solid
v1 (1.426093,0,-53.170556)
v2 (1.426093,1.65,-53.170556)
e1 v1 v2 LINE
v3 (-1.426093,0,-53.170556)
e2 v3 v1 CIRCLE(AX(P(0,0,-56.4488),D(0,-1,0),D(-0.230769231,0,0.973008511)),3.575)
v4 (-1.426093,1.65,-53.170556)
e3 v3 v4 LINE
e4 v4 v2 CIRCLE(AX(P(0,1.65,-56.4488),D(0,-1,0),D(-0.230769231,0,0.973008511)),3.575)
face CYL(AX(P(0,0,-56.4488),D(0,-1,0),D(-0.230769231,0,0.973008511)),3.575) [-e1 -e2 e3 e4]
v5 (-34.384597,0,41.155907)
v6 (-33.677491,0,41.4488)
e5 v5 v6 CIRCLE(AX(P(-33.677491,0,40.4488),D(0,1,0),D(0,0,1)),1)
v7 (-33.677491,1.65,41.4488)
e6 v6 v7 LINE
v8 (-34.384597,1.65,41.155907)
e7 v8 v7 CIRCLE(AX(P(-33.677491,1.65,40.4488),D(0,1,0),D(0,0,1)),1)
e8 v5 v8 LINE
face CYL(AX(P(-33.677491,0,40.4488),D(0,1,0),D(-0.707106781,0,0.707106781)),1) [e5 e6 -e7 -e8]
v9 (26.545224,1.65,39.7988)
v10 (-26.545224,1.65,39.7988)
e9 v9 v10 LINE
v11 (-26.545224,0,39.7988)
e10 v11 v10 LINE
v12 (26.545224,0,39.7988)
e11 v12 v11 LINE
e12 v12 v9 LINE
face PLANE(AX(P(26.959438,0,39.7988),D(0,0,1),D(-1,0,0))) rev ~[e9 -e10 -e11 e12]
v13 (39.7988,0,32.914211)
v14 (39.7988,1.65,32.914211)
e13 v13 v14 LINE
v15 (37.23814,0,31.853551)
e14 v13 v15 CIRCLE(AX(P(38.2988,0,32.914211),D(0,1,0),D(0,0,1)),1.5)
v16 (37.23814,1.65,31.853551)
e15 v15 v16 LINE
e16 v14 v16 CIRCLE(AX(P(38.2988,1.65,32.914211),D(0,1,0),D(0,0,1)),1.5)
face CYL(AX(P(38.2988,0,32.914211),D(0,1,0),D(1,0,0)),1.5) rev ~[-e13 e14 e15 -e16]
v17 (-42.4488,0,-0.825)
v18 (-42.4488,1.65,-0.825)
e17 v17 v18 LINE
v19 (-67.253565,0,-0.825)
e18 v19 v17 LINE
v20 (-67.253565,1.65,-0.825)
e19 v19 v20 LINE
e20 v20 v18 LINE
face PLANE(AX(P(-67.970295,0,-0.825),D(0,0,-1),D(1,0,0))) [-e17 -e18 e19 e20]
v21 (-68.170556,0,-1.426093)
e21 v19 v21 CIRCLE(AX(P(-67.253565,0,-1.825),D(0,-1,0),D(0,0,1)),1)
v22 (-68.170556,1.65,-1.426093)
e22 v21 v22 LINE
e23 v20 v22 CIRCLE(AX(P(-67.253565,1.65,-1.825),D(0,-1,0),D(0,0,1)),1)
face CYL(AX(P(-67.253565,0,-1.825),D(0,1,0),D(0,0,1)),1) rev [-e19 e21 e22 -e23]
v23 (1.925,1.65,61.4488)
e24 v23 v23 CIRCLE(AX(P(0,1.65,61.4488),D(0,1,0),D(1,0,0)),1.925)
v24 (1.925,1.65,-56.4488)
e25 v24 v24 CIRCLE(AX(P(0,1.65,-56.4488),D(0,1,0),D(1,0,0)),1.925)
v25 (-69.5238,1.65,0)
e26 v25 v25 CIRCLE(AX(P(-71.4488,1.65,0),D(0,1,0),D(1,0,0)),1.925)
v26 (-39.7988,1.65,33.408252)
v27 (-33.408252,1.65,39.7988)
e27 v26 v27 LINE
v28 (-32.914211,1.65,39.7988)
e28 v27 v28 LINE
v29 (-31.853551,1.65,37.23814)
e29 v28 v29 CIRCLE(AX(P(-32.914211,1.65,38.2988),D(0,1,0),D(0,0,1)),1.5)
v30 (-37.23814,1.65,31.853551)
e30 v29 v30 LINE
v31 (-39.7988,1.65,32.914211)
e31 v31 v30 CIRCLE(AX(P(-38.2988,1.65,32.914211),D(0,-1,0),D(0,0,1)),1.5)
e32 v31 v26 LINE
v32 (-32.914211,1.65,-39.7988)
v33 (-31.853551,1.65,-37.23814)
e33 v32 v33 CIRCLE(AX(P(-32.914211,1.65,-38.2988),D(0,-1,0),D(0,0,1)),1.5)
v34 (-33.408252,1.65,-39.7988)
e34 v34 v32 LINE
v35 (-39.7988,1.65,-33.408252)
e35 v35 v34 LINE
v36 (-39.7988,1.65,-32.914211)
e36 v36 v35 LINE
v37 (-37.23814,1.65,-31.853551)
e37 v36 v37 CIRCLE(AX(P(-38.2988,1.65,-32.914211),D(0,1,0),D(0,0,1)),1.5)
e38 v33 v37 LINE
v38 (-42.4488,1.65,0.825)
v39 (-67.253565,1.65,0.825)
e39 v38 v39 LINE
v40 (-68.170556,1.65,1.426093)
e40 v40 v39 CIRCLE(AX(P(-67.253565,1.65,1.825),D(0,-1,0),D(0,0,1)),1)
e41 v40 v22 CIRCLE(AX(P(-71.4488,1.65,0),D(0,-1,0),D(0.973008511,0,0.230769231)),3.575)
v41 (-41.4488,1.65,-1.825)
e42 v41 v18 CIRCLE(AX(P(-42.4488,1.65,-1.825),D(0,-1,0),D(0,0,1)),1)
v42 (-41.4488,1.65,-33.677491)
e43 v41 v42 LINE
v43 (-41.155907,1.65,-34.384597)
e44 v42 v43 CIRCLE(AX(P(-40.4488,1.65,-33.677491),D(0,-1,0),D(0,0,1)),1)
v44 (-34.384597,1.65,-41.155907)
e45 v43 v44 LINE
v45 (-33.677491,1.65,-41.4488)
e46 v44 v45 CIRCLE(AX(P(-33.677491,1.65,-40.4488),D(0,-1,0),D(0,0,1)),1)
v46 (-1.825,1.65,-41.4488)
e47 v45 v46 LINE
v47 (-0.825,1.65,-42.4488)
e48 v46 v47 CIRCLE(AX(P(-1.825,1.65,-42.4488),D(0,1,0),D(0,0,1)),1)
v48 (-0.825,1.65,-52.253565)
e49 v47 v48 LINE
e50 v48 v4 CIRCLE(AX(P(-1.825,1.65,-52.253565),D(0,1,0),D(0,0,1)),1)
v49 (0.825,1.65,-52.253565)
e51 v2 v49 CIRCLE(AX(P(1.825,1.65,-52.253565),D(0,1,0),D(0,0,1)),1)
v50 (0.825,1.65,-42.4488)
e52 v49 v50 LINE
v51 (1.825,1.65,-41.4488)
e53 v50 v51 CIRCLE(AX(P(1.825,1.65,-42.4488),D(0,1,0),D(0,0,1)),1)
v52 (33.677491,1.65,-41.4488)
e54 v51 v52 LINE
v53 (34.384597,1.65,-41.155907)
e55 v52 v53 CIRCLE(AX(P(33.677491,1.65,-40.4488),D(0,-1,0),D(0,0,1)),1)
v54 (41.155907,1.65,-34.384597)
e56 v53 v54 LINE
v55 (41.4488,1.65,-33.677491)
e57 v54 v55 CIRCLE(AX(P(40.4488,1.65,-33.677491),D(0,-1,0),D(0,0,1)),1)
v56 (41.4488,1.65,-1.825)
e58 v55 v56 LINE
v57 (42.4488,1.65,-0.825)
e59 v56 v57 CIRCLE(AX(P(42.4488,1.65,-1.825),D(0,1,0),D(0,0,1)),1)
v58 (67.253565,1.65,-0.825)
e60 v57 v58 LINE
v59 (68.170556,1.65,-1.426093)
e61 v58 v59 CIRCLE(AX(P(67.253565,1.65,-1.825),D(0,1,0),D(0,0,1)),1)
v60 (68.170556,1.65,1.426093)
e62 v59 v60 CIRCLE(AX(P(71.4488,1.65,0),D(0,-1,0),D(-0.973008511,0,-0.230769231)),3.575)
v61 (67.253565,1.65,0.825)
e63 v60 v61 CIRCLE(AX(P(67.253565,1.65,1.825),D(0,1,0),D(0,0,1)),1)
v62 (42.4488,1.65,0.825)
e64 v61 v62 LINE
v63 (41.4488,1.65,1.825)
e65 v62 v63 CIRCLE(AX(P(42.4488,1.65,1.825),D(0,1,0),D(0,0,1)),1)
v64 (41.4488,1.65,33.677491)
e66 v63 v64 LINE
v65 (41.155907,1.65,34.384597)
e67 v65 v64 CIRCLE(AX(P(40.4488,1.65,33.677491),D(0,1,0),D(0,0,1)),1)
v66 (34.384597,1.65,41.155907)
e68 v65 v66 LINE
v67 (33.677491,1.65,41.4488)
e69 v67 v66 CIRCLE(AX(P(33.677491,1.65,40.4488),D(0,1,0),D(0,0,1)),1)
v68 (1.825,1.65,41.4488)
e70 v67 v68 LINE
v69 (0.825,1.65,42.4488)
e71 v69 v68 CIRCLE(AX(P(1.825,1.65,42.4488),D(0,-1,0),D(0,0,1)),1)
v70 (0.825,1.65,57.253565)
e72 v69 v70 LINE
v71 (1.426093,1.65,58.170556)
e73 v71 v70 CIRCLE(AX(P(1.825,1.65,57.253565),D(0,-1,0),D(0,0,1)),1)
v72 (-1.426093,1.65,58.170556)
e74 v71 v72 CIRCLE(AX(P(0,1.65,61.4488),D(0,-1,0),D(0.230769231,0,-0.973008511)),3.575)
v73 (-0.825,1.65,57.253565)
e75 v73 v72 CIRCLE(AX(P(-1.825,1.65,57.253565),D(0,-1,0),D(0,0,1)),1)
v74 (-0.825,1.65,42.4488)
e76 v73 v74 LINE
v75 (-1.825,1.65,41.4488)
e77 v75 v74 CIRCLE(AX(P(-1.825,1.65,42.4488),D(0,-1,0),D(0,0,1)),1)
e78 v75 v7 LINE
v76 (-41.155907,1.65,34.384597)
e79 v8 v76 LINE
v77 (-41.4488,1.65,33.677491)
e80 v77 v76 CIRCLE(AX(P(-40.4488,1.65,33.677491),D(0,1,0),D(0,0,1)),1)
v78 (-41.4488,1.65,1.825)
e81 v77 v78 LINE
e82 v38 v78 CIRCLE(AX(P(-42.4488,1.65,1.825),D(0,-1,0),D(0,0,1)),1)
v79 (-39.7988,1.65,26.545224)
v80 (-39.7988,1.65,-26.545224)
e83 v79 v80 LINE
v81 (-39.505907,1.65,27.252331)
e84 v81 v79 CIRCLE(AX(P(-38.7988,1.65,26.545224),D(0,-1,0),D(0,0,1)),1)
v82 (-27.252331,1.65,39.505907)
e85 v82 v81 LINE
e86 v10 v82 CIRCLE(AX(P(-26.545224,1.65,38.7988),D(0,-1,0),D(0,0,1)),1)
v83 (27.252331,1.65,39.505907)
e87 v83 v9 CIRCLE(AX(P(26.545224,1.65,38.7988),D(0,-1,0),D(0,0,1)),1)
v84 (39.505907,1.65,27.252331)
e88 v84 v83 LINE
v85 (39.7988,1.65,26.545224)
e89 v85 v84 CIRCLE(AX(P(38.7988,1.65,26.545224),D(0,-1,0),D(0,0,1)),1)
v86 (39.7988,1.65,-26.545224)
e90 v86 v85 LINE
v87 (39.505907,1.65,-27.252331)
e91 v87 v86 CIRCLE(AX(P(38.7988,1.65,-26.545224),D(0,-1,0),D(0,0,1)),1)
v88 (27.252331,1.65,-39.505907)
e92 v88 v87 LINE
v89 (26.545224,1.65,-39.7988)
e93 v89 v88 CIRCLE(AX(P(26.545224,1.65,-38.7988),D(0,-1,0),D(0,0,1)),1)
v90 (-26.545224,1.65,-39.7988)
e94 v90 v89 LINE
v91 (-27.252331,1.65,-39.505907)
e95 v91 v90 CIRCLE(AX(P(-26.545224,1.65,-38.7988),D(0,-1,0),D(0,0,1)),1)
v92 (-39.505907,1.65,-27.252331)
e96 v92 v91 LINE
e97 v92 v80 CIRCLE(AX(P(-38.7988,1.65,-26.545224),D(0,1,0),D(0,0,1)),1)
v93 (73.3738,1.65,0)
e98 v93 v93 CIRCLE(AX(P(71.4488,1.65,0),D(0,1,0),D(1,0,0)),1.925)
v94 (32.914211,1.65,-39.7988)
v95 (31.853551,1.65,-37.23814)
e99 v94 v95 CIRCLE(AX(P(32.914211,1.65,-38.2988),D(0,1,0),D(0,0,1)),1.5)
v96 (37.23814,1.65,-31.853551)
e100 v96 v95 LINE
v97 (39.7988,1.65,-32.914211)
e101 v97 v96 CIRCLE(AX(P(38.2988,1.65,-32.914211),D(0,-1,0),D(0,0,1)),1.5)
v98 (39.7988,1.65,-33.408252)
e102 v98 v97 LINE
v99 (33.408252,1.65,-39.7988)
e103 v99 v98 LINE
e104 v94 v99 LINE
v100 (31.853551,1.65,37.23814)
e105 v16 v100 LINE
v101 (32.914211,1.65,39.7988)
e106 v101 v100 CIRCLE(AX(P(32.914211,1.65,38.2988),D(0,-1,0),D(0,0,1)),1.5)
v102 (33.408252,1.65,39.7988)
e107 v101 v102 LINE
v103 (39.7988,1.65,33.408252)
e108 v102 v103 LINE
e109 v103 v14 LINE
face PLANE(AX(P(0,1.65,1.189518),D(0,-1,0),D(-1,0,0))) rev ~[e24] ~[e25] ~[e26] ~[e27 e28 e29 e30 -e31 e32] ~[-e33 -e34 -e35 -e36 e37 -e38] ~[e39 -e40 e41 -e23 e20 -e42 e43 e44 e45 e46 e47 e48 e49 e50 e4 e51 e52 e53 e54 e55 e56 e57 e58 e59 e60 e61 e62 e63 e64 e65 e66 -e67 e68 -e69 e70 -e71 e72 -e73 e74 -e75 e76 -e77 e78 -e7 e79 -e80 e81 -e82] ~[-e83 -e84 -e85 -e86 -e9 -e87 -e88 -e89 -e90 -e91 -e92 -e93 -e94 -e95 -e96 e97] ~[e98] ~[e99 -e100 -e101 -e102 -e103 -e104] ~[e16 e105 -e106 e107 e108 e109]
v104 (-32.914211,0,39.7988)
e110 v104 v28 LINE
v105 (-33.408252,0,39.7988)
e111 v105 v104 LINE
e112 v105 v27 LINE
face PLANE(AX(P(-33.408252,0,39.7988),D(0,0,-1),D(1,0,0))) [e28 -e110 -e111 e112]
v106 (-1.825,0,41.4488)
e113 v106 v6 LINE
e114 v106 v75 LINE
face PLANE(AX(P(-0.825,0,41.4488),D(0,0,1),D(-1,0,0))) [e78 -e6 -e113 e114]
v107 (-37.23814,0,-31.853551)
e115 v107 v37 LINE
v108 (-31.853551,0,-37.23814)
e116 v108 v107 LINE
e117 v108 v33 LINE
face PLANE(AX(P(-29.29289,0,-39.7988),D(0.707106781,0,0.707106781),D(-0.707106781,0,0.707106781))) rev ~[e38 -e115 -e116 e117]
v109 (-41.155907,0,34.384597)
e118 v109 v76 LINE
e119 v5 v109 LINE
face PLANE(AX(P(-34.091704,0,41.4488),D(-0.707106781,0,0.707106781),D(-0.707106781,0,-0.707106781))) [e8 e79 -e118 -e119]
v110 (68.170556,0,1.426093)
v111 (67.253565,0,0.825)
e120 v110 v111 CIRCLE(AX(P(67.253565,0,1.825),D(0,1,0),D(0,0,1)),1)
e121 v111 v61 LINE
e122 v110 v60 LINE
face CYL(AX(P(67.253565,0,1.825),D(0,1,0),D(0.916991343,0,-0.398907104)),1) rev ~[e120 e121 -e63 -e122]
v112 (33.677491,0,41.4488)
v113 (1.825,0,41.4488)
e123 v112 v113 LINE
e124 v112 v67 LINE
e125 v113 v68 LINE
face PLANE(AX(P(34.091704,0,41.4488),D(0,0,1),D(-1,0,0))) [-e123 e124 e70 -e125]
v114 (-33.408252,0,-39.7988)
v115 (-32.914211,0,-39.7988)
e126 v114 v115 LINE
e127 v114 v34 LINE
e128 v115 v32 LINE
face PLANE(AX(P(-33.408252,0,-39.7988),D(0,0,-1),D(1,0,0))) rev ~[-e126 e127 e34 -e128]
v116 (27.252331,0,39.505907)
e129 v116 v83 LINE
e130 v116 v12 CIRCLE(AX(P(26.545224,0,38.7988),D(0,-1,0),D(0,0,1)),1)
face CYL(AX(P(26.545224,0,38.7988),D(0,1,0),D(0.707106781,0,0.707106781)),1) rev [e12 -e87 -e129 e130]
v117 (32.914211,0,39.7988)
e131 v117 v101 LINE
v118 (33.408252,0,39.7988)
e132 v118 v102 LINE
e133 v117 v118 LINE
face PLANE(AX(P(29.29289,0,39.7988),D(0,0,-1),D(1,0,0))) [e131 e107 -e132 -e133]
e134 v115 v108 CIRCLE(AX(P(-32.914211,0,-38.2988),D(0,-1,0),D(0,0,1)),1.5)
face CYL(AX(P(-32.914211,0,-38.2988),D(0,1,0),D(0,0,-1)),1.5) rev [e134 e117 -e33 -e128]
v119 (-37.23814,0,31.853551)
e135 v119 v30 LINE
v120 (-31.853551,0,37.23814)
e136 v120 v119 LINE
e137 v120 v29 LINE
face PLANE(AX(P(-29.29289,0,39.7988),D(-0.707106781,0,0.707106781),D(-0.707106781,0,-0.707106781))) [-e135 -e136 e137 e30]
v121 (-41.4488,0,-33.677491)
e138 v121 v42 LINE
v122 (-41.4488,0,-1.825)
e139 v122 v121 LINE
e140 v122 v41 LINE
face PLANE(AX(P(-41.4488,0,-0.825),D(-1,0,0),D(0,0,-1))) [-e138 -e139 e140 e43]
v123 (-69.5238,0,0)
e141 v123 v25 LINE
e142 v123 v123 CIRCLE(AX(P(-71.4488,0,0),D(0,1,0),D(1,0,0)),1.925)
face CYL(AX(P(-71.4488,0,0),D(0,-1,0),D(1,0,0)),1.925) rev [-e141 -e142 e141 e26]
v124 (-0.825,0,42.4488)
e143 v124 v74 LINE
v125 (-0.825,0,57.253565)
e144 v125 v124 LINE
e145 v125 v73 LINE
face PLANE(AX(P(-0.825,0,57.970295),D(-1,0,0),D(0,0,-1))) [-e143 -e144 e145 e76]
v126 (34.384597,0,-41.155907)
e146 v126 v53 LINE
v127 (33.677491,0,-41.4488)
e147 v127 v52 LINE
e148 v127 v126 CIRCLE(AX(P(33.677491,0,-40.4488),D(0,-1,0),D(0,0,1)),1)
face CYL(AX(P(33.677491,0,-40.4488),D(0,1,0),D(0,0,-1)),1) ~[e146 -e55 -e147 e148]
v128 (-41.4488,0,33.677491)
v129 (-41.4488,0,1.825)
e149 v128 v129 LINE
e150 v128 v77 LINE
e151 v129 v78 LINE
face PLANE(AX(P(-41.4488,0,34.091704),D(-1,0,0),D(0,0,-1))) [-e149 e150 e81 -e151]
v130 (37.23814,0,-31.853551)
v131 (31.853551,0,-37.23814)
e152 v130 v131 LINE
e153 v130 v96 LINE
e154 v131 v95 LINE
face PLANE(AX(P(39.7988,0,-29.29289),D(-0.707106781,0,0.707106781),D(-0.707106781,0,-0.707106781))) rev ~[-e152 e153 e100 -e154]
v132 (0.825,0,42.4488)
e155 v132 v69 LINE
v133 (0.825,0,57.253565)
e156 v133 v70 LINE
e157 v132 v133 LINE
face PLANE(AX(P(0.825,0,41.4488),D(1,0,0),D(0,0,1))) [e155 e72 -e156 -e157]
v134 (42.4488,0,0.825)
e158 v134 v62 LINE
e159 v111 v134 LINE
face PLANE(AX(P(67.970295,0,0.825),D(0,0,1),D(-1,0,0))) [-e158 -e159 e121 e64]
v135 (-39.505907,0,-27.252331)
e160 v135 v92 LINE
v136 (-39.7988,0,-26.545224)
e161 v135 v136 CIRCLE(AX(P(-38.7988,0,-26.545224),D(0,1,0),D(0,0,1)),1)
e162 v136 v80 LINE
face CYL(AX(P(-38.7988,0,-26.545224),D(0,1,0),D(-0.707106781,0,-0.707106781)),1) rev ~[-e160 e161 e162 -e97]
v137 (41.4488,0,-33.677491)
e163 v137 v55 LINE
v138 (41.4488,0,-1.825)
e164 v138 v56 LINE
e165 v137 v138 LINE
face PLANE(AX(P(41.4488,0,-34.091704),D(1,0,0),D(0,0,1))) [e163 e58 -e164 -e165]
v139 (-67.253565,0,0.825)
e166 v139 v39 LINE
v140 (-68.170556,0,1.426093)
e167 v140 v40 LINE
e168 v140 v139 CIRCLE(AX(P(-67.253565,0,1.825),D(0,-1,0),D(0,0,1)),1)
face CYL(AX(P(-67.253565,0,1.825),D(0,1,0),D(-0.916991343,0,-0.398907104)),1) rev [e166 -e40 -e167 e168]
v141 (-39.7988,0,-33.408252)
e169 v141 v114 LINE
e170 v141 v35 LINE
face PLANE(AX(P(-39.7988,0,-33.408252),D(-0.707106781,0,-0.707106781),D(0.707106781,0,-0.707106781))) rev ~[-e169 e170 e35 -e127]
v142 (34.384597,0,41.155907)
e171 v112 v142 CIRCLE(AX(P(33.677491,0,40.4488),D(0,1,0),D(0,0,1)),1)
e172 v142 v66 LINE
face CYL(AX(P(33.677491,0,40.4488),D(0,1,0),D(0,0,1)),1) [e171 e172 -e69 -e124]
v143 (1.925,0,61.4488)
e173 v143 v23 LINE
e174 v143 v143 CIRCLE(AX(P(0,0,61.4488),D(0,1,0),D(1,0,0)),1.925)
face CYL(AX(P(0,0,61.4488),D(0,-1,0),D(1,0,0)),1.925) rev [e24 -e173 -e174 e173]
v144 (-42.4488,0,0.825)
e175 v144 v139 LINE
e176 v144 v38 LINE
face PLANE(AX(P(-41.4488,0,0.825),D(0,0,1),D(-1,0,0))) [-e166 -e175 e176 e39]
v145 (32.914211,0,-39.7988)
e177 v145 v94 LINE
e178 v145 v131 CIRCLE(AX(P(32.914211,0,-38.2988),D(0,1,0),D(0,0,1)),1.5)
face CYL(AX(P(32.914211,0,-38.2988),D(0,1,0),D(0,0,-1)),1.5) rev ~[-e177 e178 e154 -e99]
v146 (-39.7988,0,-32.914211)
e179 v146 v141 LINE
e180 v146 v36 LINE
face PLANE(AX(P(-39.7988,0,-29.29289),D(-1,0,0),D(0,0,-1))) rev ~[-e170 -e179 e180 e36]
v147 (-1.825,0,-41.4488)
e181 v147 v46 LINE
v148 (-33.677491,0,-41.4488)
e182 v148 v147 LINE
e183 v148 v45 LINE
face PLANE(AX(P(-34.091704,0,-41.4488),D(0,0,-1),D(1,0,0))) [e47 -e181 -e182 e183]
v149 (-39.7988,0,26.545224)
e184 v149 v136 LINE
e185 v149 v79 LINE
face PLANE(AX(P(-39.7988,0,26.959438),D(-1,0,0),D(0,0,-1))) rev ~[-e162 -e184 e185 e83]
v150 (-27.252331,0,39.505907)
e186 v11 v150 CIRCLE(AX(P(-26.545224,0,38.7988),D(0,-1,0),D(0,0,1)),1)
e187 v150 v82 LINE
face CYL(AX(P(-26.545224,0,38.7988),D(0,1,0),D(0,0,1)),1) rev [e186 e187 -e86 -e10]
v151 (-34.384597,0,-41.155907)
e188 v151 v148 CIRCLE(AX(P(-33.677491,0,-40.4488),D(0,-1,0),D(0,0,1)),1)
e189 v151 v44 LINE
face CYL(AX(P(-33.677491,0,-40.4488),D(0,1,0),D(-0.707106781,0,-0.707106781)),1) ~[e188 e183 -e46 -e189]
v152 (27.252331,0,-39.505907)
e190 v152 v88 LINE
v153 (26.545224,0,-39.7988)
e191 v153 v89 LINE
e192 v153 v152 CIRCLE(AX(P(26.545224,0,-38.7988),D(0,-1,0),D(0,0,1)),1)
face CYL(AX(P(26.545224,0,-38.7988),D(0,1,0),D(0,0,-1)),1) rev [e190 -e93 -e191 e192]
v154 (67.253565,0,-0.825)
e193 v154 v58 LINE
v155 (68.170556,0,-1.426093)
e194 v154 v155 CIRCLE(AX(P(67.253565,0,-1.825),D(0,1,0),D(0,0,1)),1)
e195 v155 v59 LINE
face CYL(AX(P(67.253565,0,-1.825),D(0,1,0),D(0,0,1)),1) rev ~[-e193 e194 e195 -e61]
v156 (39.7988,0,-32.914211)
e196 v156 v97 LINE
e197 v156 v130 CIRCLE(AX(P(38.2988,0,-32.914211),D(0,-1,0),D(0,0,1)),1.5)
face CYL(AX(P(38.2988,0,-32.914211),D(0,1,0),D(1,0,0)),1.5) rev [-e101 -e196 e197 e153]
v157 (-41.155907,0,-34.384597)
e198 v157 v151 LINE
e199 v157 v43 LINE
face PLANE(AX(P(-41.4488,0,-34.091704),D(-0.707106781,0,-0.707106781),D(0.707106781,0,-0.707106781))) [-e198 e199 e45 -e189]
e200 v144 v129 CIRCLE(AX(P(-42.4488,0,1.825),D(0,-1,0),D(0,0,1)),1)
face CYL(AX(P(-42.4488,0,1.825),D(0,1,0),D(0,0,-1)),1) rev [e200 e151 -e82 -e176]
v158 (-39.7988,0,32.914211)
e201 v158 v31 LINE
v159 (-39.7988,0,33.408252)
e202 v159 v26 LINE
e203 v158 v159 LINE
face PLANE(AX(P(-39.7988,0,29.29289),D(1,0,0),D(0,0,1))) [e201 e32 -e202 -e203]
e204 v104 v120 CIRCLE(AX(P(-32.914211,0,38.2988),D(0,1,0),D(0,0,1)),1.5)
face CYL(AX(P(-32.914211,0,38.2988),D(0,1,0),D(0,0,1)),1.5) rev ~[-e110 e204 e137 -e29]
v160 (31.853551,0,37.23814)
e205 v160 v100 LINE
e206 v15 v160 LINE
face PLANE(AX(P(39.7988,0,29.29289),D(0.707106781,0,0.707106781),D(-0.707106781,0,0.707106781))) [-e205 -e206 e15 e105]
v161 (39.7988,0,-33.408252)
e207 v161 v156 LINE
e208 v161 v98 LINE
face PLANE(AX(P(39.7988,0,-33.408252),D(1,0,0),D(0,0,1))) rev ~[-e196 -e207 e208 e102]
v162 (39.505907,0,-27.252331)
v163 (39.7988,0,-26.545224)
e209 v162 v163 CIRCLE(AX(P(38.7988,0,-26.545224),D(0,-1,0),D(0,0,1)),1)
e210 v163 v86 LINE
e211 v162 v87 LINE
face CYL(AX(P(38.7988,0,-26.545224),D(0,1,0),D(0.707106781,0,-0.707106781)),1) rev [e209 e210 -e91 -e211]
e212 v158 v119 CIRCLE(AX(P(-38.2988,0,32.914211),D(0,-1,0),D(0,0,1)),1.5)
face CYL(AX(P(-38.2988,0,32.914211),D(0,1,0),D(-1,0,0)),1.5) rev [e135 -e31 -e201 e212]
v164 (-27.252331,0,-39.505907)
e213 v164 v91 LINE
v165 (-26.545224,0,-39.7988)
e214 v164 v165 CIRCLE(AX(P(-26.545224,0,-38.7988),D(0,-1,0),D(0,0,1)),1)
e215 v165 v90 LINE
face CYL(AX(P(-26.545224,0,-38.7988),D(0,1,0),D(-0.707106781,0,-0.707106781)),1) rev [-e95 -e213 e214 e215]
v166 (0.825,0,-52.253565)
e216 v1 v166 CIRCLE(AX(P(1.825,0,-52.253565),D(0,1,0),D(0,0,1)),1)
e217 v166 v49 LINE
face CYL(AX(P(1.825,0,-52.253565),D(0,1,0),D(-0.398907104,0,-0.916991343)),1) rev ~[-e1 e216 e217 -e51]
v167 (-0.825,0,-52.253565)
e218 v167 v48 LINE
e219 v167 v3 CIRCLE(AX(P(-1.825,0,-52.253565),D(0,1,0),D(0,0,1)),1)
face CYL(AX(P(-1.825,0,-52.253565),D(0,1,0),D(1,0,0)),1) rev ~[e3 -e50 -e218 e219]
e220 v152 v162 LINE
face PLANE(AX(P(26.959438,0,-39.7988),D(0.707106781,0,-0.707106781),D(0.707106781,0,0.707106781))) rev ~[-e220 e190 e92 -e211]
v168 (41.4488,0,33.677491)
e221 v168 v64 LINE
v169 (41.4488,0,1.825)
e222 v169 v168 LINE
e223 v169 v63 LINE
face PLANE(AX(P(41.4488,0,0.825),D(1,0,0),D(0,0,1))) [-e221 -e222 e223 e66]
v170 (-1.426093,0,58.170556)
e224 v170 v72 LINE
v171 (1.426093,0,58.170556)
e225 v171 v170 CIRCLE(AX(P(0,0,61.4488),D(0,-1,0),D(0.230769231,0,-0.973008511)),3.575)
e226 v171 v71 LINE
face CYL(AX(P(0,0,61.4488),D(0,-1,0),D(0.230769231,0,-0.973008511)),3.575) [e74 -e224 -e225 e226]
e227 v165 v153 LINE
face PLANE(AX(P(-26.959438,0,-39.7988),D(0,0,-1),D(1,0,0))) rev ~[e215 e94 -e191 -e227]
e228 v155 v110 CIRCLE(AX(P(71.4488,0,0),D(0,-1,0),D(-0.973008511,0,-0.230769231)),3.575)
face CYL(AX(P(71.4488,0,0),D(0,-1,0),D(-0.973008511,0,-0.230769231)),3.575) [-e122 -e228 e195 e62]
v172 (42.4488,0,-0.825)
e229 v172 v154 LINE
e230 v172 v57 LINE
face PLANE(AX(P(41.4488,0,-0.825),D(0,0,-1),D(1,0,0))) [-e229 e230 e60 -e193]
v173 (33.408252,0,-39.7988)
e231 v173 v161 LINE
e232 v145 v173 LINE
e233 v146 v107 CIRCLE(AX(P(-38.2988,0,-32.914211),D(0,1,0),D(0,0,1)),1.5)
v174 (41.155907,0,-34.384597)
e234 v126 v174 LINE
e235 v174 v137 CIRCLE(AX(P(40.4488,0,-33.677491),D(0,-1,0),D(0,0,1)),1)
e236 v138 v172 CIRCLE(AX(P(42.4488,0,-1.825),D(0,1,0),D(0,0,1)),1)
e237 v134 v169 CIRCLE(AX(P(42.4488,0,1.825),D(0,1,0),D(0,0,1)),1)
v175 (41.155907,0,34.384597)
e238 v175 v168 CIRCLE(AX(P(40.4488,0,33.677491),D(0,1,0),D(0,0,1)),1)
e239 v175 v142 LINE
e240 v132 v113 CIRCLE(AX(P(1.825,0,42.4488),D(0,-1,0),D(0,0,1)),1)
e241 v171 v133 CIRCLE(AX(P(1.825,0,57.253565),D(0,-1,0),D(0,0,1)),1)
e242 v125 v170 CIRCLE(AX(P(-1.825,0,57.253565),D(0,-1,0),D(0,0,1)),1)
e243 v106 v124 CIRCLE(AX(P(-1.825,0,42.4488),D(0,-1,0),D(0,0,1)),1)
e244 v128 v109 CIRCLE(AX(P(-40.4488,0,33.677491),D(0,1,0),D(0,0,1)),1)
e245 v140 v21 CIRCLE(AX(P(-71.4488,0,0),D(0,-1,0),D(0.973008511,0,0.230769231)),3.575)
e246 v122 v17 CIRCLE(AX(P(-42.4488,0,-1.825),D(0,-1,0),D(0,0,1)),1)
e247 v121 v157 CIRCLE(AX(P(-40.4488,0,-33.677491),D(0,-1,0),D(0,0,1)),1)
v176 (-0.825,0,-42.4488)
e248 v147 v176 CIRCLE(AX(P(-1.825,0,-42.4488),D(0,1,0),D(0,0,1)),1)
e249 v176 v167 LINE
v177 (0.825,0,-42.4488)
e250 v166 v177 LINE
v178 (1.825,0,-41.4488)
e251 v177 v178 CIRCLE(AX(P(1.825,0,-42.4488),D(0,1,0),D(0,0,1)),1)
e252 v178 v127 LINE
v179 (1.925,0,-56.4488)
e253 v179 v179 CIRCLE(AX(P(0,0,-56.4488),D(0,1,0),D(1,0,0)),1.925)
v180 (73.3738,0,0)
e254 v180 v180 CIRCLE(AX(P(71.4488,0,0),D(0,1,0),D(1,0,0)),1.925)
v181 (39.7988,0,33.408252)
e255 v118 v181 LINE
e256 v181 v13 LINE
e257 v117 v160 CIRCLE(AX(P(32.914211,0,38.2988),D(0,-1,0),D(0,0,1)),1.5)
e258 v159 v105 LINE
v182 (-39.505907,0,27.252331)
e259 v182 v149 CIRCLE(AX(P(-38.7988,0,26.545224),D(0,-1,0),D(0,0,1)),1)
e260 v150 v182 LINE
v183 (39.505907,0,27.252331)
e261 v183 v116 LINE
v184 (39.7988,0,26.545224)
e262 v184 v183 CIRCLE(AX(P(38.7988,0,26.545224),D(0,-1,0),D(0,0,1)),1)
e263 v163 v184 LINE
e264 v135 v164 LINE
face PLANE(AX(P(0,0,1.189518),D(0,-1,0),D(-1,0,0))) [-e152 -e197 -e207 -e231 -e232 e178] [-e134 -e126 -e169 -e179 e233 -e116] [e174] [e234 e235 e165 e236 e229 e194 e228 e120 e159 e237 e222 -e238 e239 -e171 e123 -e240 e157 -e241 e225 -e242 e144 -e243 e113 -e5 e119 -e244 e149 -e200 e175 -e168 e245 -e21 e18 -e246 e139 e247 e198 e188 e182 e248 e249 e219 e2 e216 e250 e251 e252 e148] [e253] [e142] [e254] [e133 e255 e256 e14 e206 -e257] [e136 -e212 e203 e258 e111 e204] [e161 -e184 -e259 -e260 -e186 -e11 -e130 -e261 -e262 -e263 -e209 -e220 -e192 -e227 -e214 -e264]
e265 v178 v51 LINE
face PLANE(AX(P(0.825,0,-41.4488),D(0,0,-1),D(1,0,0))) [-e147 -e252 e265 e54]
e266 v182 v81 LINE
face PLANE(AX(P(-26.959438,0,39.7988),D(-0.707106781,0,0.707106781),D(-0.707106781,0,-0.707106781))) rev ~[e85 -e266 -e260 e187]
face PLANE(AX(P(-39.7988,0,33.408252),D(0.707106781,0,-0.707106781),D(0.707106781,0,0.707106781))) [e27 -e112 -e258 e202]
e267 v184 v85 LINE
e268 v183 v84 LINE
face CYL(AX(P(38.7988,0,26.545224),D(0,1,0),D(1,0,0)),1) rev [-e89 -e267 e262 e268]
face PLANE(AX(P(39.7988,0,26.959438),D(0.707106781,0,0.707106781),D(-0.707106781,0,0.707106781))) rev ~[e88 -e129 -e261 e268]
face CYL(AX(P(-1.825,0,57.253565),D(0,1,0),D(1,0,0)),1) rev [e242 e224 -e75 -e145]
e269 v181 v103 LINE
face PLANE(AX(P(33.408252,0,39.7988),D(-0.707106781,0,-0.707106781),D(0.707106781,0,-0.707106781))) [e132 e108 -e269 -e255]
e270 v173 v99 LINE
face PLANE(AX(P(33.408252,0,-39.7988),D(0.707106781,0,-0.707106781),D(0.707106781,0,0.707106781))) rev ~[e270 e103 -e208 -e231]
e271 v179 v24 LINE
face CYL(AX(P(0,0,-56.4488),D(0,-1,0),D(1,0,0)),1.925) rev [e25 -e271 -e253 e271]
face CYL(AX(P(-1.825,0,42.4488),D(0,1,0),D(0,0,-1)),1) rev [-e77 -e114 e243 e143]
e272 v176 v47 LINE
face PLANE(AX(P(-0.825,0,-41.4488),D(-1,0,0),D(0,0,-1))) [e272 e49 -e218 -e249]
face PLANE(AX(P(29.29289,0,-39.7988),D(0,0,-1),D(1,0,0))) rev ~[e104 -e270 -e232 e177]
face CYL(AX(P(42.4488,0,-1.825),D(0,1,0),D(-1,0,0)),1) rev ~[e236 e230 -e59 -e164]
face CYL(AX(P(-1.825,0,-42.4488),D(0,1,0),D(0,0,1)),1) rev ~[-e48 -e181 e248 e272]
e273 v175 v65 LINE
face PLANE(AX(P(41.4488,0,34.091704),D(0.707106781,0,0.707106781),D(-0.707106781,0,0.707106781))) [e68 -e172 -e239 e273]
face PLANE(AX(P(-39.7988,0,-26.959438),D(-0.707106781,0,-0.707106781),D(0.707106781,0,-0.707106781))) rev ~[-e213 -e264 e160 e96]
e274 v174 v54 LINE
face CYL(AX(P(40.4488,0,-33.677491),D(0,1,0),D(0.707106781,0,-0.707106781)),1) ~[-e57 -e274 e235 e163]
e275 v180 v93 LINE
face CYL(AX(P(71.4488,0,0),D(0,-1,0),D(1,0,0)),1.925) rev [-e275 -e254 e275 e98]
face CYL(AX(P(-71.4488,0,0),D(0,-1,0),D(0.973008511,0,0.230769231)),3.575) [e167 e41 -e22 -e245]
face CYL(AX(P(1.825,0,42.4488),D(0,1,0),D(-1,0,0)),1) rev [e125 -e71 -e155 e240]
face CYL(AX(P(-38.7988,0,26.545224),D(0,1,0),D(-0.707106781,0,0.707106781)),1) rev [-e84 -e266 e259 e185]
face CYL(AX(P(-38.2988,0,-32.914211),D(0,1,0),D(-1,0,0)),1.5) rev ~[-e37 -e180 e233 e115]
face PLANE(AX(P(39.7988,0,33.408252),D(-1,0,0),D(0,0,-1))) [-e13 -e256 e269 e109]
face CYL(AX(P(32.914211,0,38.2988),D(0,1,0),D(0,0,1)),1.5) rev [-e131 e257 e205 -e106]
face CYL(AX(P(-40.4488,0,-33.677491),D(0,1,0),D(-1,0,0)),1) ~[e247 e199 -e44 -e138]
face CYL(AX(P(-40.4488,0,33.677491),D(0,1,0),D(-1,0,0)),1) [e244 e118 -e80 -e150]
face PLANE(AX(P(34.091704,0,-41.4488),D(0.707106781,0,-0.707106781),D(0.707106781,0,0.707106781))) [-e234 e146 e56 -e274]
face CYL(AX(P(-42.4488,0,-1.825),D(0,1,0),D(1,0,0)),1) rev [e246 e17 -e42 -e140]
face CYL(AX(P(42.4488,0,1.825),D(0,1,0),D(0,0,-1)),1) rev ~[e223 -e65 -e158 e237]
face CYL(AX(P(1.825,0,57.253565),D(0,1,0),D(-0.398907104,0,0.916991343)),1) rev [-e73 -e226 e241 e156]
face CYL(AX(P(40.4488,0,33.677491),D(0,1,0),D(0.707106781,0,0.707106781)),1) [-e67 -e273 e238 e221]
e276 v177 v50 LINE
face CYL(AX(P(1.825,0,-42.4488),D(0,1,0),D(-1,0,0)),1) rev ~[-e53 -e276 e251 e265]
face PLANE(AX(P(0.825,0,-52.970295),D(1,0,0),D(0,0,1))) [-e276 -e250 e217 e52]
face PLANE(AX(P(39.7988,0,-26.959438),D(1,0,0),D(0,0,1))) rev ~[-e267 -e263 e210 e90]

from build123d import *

# Parameters (mm, degrees)
SKETCH1_R           = 1.925
BOSS_EXTRUDE1_DEPTH = 1.65
FILLET4_R           = 1
FILLET3_R           = 1.5
FILLET5_R           = 1


with BuildPart() as part:
    # Sketch1 → Boss-Extrude1 (new body)
    with BuildSketch(Plane(origin=(0, 0, 0), x_dir=(1, 0, 0), z_dir=(0, 1, 0))):
        with BuildLine():
            Line((-41.448800006, 34.091704203), (-34.091704203, 41.448800006))
            Line((-34.091704203, 41.448800006), (-0.825, 41.448800006))
            Line((-0.825, 41.448800006), (-0.825, 52.97029458))
            ThreePointArc((-0.825, 52.97029458), (0, 60.023800006), (0.825, 52.97029458))
            Line((0.825, 52.97029458), (0.825, 41.448800006))
            Line((0.825, 41.448800006), (34.091704203, 41.448800006))
            Line((34.091704203, 41.448800006), (41.448800006, 34.091704203))
            Line((41.448800006, 34.091704203), (41.448800006, 0.825))
            Line((41.448800006, 0.825), (67.97029458, 0.825))
            ThreePointArc((67.97029458, 0.825), (75.023800006, 0), (67.97029458, -0.825))
            Line((67.97029458, -0.825), (41.448800006, -0.825))
            Line((41.448800006, -0.825), (41.448800006, -34.091704203))
            Line((41.448800006, -34.091704203), (34.091704203, -41.448800006))
            Line((34.091704203, -41.448800006), (0.825, -41.448800006))
            Line((0.825, -41.448800006), (0.825, -57.97029458))
            ThreePointArc((0.825, -57.97029458), (0, -65.023800006), (-0.825, -57.97029458))
            Line((-0.825, -57.97029458), (-0.825, -41.448800006))
            Line((-0.825, -41.448800006), (-34.091704203, -41.448800006))
            Line((-34.091704203, -41.448800006), (-41.448800006, -34.091704203))
            Line((-41.448800006, -34.091704203), (-41.448800006, -0.825))
            Line((-41.448800006, -0.825), (-67.97029458, -0.825))
            ThreePointArc((-67.97029458, -0.825), (-75.023800006, 0), (-67.97029458, 0.825))
            Line((-67.97029458, 0.825), (-41.448800006, 0.825))
            Line((-41.448800006, 0.825), (-41.448800006, 34.091704203))
        make_face()
        with Locations((0, 56.448800006)):
            Circle(SKETCH1_R, mode=Mode.SUBTRACT)
        with Locations((71.448800006, 0)):
            Circle(SKETCH1_R, mode=Mode.SUBTRACT)
        with Locations((0, -61.448800006)):
            Circle(SKETCH1_R, mode=Mode.SUBTRACT)
        with Locations((-71.448800006, 0)):
            Circle(SKETCH1_R, mode=Mode.SUBTRACT)
        Polygon((-39.798800006, 33.408251825), (-33.408251825, 39.798800006), (-29.292890359, 39.798800006), (-39.798800006, 29.292890359), align=None, mode=Mode.SUBTRACT)
        Polygon((-33.408251825, -39.798800006), (-29.292890359, -39.798800006), (-39.798800006, -29.292890359), (-39.798800006, -33.408251825), align=None, mode=Mode.SUBTRACT)
        Polygon((39.798800006, -33.408251825), (39.798800006, -29.292890359), (29.292890359, -39.798800006), (33.408251825, -39.798800006), align=None, mode=Mode.SUBTRACT)
        Polygon((33.408251825, 39.798800006), (39.798800006, 33.408251825), (39.798800006, 29.292890359), (29.292890359, 39.798800006), align=None, mode=Mode.SUBTRACT)
        Polygon((-39.798800006, 26.959437981), (-26.959437981, 39.798800006), (26.959437981, 39.798800006), (39.798800006, 26.959437981), (39.798800006, -26.959437981), (26.959437981, -39.798800006), (-26.959437981, -39.798800006), (-39.798800006, -26.959437981), align=None, mode=Mode.SUBTRACT)
    extrude(amount=BOSS_EXTRUDE1_DEPTH)

    # Fillet4
    fillet4_edges = [part.edges().sort_by_distance(p)[0] for p in [
        (-0.825, 0.825, -41.448800006),
        (-0.825, 0.825, -52.97029458),
        (0.825, 0.825, -52.97029458),
        (0.825, 0.825, -41.448800006),
        (41.448800006, 0.825, -0.825),
        (67.97029458, 0.825, -0.825),
        (67.97029458, 0.825, 0.825),
        (41.448800006, 0.825, 0.825),
        (0.825, 0.825, 41.448800006),
        (0.825, 0.825, 57.97029458),
        (-0.825, 0.825, 57.97029458),
        (-0.825, 0.825, 41.448800006),
        (-41.448800006, 0.825, 0.825),
        (-67.97029458, 0.825, 0.825),
        (-67.97029458, 0.825, -0.825),
        (-41.448800006, 0.825, -0.825),
    ]]
    fillet(fillet4_edges, radius=FILLET4_R)

    # Fillet3
    fillet3_edges = [part.edges().sort_by_distance(p)[0] for p in [
        (-29.292890359, 0.825, 39.798800006),
        (-39.798800006, 0.825, 29.292890359),
        (-39.798800006, 0.825, -29.292890359),
        (-29.292890359, 0.825, -39.798800006),
        (29.292890359, 0.825, -39.798800006),
        (39.798800006, 0.825, -29.292890359),
        (39.798800006, 0.825, 29.292890359),
        (29.292890359, 0.825, 39.798800006),
    ]]
    fillet(fillet3_edges, radius=FILLET3_R)

    # Fillet5
    fillet5_edges = [part.edges().sort_by_distance(p)[0] for p in [
        (-39.798800006, 0.825, -26.959437981),
        (-39.798800006, 0.825, 26.959437981),
        (-26.959437981, 0.825, 39.798800006),
        (26.959437981, 0.825, 39.798800006),
        (39.798800006, 0.825, 26.959437981),
        (39.798800006, 0.825, -26.959437981),
        (26.959437981, 0.825, -39.798800006),
        (-26.959437981, 0.825, -39.798800006),
        (-41.448800006, 0.825, -34.091704203),
        (-34.091704203, 0.825, -41.448800006),
        (34.091704203, 0.825, -41.448800006),
        (41.448800006, 0.825, -34.091704203),
        (41.448800006, 0.825, 34.091704203),
        (34.091704203, 0.825, 41.448800006),
        (-34.091704203, 0.825, 41.448800006),
        (-41.448800006, 0.825, 34.091704203),
    ]]
    fillet(fillet5_edges, radius=FILLET5_R)


solid = part.part
